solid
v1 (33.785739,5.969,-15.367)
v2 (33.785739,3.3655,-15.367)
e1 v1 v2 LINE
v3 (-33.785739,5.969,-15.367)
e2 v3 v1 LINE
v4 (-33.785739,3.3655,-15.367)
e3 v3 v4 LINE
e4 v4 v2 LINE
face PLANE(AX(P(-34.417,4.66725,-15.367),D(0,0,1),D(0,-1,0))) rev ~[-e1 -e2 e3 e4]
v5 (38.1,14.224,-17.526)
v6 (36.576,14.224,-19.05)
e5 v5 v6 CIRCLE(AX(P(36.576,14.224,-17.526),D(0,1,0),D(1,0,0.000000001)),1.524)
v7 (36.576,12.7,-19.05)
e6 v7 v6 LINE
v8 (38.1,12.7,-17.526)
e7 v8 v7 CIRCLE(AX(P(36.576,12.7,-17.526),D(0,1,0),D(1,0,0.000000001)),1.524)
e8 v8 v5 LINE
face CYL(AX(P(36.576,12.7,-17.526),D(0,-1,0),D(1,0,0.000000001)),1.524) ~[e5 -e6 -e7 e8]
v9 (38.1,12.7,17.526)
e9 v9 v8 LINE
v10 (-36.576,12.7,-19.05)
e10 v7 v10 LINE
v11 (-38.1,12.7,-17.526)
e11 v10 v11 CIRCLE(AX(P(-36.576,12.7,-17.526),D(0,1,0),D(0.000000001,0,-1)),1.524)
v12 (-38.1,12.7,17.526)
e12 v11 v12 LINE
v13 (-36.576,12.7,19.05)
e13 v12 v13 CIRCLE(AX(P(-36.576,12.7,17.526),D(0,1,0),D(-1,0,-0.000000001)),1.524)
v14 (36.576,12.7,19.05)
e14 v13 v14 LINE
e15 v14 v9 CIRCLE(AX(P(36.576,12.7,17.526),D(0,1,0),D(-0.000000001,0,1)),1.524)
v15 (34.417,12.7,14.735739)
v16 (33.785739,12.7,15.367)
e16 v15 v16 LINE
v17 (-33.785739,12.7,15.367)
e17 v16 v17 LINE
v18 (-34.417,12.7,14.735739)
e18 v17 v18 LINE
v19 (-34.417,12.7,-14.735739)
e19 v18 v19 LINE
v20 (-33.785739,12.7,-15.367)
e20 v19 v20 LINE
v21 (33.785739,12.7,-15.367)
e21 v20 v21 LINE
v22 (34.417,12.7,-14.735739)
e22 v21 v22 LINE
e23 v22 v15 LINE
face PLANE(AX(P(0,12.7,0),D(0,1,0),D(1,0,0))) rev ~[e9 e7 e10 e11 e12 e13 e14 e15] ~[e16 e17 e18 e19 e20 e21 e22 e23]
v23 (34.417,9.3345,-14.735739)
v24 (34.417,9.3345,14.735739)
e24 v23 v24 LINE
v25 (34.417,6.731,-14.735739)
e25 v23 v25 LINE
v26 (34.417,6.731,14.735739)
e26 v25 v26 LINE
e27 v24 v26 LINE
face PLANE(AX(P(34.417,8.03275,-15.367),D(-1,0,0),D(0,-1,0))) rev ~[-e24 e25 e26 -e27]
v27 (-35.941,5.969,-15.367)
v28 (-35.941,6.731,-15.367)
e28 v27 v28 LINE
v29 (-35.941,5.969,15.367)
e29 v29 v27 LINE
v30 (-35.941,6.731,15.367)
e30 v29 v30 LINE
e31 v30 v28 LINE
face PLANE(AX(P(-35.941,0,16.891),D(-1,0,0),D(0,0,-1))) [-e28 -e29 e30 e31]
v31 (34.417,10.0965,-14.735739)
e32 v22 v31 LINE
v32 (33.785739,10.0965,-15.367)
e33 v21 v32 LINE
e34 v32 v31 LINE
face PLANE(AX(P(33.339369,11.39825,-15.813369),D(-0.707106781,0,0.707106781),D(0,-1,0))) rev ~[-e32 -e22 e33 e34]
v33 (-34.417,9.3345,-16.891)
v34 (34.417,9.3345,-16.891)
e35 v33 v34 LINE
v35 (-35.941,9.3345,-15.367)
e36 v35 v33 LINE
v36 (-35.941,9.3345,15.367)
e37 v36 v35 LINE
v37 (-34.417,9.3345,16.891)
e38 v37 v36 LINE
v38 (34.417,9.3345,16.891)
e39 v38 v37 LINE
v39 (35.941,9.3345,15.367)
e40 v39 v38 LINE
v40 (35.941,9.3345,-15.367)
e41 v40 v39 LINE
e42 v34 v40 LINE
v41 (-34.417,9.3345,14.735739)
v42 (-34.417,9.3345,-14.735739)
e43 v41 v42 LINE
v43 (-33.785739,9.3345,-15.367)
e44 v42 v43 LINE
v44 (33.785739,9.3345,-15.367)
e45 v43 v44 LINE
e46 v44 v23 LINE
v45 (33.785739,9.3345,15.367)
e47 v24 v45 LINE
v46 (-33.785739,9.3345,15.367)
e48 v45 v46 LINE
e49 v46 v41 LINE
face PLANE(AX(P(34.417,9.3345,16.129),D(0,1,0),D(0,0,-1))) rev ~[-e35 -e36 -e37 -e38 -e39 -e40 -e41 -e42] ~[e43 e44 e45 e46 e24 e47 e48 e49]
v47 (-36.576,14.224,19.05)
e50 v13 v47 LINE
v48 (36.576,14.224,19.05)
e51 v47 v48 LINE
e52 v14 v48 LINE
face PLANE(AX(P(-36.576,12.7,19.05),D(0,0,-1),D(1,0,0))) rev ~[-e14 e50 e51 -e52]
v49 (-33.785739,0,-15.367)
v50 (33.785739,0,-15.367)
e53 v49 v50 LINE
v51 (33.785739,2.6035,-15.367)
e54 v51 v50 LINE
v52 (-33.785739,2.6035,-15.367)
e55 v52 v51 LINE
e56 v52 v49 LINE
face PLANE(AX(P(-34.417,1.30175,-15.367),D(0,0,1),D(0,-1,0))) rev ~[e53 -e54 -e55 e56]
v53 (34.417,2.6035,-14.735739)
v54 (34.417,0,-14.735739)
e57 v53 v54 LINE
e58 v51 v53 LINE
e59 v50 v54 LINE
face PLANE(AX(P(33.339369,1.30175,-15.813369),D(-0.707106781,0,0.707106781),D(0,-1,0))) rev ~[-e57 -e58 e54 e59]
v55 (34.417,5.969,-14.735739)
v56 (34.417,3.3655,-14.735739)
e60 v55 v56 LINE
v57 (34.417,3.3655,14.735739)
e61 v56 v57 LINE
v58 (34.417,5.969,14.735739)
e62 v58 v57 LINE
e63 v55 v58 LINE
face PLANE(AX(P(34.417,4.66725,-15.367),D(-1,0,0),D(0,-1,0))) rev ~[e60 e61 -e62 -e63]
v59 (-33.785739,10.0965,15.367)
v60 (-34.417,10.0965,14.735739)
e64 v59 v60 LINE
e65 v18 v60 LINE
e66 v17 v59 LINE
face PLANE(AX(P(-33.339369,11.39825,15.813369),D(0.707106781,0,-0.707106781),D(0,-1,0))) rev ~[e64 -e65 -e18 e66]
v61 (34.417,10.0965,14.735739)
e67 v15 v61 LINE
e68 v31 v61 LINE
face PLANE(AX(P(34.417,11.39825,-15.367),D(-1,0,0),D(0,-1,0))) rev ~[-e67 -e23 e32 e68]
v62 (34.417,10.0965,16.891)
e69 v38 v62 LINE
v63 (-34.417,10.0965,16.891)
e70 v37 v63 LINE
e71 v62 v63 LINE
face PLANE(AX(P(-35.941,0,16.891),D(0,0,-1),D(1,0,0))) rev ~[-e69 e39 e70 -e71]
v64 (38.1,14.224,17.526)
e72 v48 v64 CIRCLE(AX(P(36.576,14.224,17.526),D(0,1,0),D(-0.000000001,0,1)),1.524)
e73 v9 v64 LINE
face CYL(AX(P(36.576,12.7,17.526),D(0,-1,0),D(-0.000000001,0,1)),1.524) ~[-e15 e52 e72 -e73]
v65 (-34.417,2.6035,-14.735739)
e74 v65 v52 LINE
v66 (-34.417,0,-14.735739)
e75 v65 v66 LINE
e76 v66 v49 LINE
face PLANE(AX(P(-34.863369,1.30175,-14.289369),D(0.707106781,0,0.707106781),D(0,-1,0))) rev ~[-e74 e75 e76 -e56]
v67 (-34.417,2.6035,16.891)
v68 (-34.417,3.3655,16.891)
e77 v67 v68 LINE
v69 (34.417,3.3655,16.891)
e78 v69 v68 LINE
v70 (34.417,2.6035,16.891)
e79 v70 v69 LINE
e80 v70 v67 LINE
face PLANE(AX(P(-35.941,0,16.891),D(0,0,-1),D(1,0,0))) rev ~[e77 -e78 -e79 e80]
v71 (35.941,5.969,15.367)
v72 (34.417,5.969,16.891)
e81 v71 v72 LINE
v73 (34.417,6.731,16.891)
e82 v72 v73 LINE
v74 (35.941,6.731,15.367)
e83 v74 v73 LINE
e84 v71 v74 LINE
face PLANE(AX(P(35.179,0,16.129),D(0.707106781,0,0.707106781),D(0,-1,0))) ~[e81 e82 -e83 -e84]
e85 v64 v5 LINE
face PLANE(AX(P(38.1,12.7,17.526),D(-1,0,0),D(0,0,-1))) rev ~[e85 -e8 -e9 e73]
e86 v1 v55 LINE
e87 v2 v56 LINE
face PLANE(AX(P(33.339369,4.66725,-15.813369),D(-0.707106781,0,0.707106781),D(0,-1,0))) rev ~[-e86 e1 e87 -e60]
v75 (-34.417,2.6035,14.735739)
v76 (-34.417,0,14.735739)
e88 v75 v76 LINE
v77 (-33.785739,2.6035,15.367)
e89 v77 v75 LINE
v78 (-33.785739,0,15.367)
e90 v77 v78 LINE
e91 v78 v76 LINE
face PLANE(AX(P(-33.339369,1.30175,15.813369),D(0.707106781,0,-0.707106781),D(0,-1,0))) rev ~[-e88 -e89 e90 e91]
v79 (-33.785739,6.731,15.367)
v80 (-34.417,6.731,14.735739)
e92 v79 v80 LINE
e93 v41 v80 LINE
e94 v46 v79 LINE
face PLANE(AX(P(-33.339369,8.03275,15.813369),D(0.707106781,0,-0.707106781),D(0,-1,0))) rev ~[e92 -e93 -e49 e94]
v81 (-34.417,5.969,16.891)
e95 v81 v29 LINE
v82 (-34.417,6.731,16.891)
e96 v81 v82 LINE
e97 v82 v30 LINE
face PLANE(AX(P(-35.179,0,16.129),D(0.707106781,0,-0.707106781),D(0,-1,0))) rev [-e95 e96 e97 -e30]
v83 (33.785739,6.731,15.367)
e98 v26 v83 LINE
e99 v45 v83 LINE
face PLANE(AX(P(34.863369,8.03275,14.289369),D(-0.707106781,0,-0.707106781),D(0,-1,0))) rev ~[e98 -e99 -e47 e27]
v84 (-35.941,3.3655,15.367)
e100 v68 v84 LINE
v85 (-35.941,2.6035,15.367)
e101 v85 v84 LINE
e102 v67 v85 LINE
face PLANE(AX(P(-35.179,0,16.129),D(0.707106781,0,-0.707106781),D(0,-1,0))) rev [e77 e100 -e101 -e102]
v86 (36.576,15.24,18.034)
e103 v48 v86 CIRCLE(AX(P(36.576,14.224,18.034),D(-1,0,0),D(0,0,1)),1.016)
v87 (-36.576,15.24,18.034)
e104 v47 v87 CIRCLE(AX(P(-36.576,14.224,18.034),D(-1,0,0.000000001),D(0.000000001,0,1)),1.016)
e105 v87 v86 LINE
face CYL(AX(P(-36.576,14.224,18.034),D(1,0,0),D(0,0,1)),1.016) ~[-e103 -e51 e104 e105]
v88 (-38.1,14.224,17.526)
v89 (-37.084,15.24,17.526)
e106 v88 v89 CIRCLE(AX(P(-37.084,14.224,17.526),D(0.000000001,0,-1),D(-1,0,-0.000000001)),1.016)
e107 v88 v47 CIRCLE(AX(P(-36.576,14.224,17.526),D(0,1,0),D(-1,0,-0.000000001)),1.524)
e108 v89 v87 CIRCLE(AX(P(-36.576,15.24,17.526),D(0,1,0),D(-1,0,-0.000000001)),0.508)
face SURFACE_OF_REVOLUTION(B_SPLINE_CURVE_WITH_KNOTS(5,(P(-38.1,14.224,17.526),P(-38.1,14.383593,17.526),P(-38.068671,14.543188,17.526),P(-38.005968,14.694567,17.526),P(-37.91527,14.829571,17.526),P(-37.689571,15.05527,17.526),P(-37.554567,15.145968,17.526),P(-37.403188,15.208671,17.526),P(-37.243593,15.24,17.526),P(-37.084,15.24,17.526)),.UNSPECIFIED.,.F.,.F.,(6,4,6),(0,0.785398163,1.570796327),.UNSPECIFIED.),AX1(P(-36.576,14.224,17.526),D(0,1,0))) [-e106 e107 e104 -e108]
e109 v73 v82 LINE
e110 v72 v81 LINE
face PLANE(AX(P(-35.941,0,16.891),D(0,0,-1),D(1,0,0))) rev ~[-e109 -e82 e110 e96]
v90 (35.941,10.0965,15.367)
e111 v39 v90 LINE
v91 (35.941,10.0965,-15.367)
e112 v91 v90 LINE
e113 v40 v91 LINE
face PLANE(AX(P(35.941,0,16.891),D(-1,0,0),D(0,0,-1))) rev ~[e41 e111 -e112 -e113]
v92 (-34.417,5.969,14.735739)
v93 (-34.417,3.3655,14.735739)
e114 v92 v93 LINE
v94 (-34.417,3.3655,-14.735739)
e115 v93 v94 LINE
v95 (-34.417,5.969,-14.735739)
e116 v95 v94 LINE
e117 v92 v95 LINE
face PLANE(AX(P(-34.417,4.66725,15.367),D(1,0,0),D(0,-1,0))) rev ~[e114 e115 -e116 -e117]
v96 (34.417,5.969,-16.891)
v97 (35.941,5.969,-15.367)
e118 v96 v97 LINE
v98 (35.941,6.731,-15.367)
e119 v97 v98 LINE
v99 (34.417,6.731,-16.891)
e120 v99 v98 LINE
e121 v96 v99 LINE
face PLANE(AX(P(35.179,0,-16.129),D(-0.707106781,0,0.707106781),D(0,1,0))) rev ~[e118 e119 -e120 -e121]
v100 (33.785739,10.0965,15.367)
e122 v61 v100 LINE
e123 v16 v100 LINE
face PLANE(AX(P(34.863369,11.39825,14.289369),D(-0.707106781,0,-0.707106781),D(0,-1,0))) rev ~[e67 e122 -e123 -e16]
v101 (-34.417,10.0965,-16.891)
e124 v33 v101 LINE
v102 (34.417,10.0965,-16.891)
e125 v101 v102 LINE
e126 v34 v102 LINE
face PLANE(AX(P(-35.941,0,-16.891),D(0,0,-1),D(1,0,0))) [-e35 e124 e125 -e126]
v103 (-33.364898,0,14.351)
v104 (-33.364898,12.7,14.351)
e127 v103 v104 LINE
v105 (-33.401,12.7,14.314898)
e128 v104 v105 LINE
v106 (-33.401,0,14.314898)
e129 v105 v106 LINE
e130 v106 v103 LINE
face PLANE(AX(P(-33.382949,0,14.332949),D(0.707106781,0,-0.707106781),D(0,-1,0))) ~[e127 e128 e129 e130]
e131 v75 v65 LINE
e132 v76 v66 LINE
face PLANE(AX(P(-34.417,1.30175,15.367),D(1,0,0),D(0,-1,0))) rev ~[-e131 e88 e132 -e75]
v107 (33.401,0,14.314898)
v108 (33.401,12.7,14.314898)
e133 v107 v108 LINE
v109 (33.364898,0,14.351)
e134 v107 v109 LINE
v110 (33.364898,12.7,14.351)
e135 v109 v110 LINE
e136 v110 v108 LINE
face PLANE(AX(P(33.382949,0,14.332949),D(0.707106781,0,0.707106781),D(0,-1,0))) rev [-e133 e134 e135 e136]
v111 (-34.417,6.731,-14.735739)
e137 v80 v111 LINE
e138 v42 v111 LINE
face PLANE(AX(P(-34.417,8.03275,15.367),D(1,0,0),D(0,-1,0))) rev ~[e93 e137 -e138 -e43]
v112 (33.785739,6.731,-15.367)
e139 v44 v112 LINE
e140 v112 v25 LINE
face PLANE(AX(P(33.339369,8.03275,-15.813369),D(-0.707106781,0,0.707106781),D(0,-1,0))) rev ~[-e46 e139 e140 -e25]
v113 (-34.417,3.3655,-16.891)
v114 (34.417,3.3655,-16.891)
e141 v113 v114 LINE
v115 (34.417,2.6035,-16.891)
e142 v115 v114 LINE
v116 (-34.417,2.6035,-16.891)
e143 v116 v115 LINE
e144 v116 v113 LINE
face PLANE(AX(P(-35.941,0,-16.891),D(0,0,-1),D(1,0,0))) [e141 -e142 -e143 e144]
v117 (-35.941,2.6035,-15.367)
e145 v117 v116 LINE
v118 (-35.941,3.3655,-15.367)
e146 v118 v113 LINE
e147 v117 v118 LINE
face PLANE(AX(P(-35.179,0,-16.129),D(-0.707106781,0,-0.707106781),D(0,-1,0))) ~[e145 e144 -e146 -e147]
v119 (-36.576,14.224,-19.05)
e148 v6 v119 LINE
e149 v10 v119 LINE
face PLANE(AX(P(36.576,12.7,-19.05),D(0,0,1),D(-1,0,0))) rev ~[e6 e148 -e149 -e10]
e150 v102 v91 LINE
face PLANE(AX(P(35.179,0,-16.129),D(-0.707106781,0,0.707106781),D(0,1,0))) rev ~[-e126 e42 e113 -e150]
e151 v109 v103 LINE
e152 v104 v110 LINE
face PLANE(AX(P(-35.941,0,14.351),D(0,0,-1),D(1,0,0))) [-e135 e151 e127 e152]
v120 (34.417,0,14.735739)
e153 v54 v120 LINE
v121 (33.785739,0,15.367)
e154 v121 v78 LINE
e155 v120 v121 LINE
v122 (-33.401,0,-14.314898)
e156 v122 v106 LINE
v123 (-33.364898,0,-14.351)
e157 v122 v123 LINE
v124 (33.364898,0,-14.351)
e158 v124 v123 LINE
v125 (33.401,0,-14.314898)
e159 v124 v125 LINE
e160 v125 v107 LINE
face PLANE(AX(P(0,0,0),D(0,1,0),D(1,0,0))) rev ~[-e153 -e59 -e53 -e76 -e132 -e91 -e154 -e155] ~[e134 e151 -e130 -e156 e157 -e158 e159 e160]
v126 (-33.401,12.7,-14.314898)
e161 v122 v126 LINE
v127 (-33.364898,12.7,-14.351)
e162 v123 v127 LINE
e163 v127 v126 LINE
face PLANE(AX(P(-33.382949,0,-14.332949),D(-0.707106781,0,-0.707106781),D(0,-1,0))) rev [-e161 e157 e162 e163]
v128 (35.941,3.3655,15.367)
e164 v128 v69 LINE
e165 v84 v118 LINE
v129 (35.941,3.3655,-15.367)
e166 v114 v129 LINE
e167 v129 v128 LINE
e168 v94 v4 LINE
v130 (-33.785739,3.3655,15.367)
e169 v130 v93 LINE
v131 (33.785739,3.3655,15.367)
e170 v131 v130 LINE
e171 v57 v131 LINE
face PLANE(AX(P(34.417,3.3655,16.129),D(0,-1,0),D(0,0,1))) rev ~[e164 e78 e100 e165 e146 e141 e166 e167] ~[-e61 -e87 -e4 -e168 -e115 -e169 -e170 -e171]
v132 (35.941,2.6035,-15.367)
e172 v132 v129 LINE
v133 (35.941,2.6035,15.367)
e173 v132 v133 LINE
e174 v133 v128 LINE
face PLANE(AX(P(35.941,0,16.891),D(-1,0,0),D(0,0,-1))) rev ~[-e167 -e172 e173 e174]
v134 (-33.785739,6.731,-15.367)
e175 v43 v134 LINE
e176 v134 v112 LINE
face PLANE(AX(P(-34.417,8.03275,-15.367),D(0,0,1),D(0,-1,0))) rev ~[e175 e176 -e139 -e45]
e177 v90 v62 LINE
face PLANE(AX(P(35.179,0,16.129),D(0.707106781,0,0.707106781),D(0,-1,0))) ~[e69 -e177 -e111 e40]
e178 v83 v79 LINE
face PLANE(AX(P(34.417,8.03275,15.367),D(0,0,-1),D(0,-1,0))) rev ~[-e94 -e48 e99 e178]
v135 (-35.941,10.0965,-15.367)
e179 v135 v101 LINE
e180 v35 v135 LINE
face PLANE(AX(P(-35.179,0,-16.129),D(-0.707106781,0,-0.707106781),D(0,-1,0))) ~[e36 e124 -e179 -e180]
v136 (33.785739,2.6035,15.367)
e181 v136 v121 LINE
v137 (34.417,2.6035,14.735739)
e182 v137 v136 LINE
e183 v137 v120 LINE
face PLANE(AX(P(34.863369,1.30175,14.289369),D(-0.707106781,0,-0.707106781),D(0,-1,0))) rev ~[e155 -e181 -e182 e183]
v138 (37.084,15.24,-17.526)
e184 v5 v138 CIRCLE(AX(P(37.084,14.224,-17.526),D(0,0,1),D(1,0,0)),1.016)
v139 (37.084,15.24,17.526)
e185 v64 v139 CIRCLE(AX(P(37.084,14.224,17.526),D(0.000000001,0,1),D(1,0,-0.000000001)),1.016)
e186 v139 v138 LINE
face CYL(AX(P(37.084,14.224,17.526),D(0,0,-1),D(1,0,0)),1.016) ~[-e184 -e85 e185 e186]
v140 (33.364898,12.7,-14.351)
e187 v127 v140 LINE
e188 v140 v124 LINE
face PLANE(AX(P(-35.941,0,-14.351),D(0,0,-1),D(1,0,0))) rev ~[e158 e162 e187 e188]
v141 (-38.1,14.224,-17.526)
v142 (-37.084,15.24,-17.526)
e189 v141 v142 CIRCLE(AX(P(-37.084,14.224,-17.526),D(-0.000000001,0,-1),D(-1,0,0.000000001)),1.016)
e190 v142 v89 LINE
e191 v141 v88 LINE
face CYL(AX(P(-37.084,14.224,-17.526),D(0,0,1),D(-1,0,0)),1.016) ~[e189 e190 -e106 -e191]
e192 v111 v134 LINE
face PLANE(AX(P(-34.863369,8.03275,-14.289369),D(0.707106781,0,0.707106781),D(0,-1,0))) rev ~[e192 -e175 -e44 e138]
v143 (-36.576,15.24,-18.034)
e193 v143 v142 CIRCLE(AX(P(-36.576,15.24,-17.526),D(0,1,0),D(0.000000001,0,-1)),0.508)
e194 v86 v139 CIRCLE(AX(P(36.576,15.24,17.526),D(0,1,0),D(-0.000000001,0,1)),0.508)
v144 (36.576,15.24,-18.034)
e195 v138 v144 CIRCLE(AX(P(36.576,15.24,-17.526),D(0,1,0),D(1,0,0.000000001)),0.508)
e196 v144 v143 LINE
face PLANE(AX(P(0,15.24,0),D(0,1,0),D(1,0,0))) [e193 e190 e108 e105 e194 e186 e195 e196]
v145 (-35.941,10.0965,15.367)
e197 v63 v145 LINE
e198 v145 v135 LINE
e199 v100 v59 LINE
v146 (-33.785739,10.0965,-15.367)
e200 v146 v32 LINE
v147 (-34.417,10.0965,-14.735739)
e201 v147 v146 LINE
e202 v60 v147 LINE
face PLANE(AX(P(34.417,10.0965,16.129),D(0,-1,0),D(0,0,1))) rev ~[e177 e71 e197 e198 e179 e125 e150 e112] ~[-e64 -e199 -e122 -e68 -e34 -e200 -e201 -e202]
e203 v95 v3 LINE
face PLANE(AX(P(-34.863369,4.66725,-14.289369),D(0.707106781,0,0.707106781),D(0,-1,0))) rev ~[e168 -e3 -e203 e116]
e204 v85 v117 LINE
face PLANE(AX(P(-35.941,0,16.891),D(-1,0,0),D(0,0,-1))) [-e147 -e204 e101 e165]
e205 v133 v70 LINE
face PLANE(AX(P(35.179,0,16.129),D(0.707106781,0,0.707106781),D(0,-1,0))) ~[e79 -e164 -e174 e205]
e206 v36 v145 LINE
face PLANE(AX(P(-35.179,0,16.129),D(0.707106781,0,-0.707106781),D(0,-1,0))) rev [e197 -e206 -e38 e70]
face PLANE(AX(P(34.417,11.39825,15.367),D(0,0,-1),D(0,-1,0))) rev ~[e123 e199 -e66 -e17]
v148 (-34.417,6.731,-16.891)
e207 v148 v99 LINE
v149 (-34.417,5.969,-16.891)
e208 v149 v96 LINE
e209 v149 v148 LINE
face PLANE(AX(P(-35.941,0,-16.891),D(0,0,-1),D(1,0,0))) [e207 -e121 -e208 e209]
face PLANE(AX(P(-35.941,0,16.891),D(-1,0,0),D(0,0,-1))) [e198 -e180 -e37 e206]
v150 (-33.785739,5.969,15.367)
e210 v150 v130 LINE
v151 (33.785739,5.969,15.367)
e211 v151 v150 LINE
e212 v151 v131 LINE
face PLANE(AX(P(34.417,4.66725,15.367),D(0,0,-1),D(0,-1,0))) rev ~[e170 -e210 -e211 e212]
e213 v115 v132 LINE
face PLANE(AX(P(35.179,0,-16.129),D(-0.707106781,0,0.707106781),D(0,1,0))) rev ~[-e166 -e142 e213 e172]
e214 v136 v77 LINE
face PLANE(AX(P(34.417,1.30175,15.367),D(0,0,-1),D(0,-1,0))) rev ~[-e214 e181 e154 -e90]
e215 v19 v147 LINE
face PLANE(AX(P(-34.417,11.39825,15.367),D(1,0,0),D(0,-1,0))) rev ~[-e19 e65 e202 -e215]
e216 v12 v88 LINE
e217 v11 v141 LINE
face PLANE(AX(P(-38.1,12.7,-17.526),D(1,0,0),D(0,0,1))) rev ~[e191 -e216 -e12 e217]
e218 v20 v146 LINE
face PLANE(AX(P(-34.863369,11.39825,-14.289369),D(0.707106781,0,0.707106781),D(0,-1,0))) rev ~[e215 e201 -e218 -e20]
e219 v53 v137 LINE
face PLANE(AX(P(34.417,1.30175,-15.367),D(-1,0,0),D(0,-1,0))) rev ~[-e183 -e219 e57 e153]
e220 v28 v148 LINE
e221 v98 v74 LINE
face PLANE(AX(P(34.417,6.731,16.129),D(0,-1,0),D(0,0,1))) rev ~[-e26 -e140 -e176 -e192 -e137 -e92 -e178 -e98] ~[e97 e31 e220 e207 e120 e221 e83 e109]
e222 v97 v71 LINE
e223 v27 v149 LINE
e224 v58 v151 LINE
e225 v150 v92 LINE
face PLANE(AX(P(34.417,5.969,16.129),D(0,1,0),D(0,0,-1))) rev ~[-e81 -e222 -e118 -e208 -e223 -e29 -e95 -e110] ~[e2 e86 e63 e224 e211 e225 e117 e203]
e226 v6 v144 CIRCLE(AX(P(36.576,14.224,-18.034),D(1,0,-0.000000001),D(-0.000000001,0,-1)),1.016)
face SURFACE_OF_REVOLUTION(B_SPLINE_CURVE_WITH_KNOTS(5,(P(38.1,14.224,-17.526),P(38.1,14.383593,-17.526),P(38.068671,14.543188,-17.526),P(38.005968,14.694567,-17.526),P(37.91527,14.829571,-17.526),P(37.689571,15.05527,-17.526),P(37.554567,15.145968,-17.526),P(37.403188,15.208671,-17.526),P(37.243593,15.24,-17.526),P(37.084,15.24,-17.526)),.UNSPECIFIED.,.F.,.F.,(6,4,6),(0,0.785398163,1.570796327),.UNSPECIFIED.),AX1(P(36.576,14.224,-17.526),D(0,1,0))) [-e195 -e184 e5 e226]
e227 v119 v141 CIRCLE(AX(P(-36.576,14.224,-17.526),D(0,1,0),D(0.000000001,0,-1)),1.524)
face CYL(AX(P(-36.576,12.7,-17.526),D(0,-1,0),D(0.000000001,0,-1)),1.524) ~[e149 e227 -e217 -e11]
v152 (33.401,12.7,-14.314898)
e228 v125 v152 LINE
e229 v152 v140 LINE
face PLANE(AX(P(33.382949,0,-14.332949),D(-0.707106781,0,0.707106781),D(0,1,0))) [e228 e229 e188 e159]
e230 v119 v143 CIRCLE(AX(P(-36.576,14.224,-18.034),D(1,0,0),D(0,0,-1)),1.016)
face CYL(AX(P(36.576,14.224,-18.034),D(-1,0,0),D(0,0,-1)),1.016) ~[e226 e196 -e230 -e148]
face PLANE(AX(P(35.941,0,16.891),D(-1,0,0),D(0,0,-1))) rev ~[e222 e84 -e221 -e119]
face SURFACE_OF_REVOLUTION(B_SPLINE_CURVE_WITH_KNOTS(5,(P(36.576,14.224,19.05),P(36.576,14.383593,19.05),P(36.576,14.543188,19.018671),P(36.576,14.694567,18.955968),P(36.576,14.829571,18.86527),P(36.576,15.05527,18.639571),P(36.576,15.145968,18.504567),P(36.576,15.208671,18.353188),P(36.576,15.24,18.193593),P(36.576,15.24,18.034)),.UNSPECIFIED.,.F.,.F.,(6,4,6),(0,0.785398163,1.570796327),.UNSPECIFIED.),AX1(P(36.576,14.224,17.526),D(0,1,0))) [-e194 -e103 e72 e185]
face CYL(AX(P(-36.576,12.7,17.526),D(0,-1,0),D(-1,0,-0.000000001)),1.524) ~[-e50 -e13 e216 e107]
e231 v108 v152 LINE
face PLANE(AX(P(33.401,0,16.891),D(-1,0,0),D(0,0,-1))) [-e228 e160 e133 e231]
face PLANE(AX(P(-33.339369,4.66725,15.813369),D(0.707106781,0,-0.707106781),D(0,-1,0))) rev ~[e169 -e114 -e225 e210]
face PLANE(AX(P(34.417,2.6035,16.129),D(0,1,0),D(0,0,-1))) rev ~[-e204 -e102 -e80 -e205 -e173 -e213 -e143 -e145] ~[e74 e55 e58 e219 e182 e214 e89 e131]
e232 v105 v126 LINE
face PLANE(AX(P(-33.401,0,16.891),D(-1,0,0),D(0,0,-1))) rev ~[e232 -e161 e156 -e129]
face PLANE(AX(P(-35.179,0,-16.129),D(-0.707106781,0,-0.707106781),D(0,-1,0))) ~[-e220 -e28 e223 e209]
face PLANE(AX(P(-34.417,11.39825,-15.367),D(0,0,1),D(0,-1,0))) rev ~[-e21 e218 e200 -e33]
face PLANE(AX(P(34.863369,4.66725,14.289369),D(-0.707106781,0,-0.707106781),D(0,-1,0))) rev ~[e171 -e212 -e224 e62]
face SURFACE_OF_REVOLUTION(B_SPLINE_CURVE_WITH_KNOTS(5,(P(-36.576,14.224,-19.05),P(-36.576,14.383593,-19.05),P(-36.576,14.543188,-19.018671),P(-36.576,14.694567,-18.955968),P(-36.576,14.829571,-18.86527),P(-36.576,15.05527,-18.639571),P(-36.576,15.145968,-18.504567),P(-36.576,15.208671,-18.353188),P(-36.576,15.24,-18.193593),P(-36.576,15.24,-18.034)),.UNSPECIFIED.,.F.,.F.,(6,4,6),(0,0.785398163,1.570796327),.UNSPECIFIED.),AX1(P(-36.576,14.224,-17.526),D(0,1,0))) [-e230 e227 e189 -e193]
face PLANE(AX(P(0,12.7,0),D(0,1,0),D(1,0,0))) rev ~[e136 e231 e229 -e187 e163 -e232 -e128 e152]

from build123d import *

# Parameters (mm, degrees)
SKETCH1_W           = 71.882
SKETCH1_H           = 33.782
BOSS_EXTRUDE1_DEPTH = 12.7
BOSS_EXTRUDE2_DEPTH = 2.54
CHAMFER1_SIZE       = 1.524
SHELL1_T            = -2.54
SKETCH4_W           = 1.524
SKETCH4_H           = 2.6035
FILLET2_R           = 1.016


with BuildPart() as part:
    # Sketch1 → Boss-Extrude1 (new body)
    with BuildSketch(Plane(origin=(0, 0, 0), x_dir=(1, 0, 0), z_dir=(0, 1, 0))):
        Rectangle(SKETCH1_W, SKETCH1_H)
    extrude(amount=BOSS_EXTRUDE1_DEPTH)

    # Sketch2 → Boss-Extrude2 (add)
    with BuildSketch(Plane(origin=(0, 12.7, 0), x_dir=(1, 0, 0), z_dir=(0, 1, 0))):
        with BuildLine():
            Line((-38.1, 17.526), (-38.1, -17.526))
            ThreePointArc((-38.1, -17.526), (-37.653630735, -18.603630735), (-36.576, -19.05))
            Line((-36.576, -19.05), (36.576, -19.05))
            ThreePointArc((36.576, -19.05), (37.653630735, -18.603630735), (38.1, -17.526))
            Line((38.1, -17.526), (38.1, 17.526))
            ThreePointArc((38.1, 17.526), (37.653630735, 18.603630735), (36.576, 19.05))
            Line((36.576, 19.05), (-36.576, 19.05))
            ThreePointArc((-36.576, 19.05), (-37.653630735, 18.603630735), (-38.1, 17.526))
        make_face()
    extrude(amount=BOSS_EXTRUDE2_DEPTH)

    # Chamfer1
    chamfer1_edges = [part.edges().sort_by_distance(p)[0] for p in [
        (35.941, 6.35, 16.891),
        (-35.941, 6.35, 16.891),
        (-35.941, 6.35, -16.891),
        (35.941, 6.35, -16.891),
    ]]
    chamfer(chamfer1_edges, length=CHAMFER1_SIZE)

    # Shell1
    shell1_openings = [part.faces().sort_by_distance(p)[0] for p in [
        (0, 0, 0),
    ]]
    offset(amount=SHELL1_T, openings=shell1_openings, kind=Kind.INTERSECTION)

    # Cut-Sweep2: sweep along a path in Sketch3
    with BuildLine(Plane(origin=(0, 0, 0), x_dir=(-1, 0, 0), z_dir=(0, -1, 0))) as cut_sweep2_path:
        Line((-35.941, 15.367), (-35.941, -15.367))
        Line((-35.941, -15.367), (-34.417, -16.891))
        Line((-34.417, -16.891), (34.417, -16.891))
        Line((34.417, -16.891), (35.941, -15.367))
        Line((35.941, -15.367), (35.941, 15.367))
        Line((35.941, 15.367), (34.417, 16.891))
        Line((34.417, 16.891), (-34.417, 16.891))
        Line((-34.417, 16.891), (-35.941, 15.367))
    # Sketch4 → Cut-Sweep2 (sweep, cut)
    with BuildSketch(Plane.XY):
        with Locations((35.179, 1.30175)):
            Rectangle(SKETCH4_W, SKETCH4_H)
        with Locations((35.179, 8.03275)):
            Rectangle(SKETCH4_W, SKETCH4_H)
        with Locations((35.179, 11.39825)):
            Rectangle(SKETCH4_W, SKETCH4_H)
        with Locations((35.179, 4.66725)):
            Rectangle(SKETCH4_W, SKETCH4_H)
    sweep(path=cut_sweep2_path.line, transition=Transition.RIGHT, mode=Mode.SUBTRACT)

    # Fillet2
    fillet2_edges = [part.edges().sort_by_distance(p)[0] for p in [
        (-37.653630735, 15.24, 18.603630735),
        (0, 15.24, 19.05),
        (37.653630735, 15.24, 18.603630735),
        (38.1, 15.24, 0),
        (37.653630735, 15.24, -18.603630735),
        (0, 15.24, -19.05),
        (-37.653630735, 15.24, -18.603630735),
        (-38.1, 15.24, 0),
    ]]
    fillet(fillet2_edges, radius=FILLET2_R)


solid = part.part
